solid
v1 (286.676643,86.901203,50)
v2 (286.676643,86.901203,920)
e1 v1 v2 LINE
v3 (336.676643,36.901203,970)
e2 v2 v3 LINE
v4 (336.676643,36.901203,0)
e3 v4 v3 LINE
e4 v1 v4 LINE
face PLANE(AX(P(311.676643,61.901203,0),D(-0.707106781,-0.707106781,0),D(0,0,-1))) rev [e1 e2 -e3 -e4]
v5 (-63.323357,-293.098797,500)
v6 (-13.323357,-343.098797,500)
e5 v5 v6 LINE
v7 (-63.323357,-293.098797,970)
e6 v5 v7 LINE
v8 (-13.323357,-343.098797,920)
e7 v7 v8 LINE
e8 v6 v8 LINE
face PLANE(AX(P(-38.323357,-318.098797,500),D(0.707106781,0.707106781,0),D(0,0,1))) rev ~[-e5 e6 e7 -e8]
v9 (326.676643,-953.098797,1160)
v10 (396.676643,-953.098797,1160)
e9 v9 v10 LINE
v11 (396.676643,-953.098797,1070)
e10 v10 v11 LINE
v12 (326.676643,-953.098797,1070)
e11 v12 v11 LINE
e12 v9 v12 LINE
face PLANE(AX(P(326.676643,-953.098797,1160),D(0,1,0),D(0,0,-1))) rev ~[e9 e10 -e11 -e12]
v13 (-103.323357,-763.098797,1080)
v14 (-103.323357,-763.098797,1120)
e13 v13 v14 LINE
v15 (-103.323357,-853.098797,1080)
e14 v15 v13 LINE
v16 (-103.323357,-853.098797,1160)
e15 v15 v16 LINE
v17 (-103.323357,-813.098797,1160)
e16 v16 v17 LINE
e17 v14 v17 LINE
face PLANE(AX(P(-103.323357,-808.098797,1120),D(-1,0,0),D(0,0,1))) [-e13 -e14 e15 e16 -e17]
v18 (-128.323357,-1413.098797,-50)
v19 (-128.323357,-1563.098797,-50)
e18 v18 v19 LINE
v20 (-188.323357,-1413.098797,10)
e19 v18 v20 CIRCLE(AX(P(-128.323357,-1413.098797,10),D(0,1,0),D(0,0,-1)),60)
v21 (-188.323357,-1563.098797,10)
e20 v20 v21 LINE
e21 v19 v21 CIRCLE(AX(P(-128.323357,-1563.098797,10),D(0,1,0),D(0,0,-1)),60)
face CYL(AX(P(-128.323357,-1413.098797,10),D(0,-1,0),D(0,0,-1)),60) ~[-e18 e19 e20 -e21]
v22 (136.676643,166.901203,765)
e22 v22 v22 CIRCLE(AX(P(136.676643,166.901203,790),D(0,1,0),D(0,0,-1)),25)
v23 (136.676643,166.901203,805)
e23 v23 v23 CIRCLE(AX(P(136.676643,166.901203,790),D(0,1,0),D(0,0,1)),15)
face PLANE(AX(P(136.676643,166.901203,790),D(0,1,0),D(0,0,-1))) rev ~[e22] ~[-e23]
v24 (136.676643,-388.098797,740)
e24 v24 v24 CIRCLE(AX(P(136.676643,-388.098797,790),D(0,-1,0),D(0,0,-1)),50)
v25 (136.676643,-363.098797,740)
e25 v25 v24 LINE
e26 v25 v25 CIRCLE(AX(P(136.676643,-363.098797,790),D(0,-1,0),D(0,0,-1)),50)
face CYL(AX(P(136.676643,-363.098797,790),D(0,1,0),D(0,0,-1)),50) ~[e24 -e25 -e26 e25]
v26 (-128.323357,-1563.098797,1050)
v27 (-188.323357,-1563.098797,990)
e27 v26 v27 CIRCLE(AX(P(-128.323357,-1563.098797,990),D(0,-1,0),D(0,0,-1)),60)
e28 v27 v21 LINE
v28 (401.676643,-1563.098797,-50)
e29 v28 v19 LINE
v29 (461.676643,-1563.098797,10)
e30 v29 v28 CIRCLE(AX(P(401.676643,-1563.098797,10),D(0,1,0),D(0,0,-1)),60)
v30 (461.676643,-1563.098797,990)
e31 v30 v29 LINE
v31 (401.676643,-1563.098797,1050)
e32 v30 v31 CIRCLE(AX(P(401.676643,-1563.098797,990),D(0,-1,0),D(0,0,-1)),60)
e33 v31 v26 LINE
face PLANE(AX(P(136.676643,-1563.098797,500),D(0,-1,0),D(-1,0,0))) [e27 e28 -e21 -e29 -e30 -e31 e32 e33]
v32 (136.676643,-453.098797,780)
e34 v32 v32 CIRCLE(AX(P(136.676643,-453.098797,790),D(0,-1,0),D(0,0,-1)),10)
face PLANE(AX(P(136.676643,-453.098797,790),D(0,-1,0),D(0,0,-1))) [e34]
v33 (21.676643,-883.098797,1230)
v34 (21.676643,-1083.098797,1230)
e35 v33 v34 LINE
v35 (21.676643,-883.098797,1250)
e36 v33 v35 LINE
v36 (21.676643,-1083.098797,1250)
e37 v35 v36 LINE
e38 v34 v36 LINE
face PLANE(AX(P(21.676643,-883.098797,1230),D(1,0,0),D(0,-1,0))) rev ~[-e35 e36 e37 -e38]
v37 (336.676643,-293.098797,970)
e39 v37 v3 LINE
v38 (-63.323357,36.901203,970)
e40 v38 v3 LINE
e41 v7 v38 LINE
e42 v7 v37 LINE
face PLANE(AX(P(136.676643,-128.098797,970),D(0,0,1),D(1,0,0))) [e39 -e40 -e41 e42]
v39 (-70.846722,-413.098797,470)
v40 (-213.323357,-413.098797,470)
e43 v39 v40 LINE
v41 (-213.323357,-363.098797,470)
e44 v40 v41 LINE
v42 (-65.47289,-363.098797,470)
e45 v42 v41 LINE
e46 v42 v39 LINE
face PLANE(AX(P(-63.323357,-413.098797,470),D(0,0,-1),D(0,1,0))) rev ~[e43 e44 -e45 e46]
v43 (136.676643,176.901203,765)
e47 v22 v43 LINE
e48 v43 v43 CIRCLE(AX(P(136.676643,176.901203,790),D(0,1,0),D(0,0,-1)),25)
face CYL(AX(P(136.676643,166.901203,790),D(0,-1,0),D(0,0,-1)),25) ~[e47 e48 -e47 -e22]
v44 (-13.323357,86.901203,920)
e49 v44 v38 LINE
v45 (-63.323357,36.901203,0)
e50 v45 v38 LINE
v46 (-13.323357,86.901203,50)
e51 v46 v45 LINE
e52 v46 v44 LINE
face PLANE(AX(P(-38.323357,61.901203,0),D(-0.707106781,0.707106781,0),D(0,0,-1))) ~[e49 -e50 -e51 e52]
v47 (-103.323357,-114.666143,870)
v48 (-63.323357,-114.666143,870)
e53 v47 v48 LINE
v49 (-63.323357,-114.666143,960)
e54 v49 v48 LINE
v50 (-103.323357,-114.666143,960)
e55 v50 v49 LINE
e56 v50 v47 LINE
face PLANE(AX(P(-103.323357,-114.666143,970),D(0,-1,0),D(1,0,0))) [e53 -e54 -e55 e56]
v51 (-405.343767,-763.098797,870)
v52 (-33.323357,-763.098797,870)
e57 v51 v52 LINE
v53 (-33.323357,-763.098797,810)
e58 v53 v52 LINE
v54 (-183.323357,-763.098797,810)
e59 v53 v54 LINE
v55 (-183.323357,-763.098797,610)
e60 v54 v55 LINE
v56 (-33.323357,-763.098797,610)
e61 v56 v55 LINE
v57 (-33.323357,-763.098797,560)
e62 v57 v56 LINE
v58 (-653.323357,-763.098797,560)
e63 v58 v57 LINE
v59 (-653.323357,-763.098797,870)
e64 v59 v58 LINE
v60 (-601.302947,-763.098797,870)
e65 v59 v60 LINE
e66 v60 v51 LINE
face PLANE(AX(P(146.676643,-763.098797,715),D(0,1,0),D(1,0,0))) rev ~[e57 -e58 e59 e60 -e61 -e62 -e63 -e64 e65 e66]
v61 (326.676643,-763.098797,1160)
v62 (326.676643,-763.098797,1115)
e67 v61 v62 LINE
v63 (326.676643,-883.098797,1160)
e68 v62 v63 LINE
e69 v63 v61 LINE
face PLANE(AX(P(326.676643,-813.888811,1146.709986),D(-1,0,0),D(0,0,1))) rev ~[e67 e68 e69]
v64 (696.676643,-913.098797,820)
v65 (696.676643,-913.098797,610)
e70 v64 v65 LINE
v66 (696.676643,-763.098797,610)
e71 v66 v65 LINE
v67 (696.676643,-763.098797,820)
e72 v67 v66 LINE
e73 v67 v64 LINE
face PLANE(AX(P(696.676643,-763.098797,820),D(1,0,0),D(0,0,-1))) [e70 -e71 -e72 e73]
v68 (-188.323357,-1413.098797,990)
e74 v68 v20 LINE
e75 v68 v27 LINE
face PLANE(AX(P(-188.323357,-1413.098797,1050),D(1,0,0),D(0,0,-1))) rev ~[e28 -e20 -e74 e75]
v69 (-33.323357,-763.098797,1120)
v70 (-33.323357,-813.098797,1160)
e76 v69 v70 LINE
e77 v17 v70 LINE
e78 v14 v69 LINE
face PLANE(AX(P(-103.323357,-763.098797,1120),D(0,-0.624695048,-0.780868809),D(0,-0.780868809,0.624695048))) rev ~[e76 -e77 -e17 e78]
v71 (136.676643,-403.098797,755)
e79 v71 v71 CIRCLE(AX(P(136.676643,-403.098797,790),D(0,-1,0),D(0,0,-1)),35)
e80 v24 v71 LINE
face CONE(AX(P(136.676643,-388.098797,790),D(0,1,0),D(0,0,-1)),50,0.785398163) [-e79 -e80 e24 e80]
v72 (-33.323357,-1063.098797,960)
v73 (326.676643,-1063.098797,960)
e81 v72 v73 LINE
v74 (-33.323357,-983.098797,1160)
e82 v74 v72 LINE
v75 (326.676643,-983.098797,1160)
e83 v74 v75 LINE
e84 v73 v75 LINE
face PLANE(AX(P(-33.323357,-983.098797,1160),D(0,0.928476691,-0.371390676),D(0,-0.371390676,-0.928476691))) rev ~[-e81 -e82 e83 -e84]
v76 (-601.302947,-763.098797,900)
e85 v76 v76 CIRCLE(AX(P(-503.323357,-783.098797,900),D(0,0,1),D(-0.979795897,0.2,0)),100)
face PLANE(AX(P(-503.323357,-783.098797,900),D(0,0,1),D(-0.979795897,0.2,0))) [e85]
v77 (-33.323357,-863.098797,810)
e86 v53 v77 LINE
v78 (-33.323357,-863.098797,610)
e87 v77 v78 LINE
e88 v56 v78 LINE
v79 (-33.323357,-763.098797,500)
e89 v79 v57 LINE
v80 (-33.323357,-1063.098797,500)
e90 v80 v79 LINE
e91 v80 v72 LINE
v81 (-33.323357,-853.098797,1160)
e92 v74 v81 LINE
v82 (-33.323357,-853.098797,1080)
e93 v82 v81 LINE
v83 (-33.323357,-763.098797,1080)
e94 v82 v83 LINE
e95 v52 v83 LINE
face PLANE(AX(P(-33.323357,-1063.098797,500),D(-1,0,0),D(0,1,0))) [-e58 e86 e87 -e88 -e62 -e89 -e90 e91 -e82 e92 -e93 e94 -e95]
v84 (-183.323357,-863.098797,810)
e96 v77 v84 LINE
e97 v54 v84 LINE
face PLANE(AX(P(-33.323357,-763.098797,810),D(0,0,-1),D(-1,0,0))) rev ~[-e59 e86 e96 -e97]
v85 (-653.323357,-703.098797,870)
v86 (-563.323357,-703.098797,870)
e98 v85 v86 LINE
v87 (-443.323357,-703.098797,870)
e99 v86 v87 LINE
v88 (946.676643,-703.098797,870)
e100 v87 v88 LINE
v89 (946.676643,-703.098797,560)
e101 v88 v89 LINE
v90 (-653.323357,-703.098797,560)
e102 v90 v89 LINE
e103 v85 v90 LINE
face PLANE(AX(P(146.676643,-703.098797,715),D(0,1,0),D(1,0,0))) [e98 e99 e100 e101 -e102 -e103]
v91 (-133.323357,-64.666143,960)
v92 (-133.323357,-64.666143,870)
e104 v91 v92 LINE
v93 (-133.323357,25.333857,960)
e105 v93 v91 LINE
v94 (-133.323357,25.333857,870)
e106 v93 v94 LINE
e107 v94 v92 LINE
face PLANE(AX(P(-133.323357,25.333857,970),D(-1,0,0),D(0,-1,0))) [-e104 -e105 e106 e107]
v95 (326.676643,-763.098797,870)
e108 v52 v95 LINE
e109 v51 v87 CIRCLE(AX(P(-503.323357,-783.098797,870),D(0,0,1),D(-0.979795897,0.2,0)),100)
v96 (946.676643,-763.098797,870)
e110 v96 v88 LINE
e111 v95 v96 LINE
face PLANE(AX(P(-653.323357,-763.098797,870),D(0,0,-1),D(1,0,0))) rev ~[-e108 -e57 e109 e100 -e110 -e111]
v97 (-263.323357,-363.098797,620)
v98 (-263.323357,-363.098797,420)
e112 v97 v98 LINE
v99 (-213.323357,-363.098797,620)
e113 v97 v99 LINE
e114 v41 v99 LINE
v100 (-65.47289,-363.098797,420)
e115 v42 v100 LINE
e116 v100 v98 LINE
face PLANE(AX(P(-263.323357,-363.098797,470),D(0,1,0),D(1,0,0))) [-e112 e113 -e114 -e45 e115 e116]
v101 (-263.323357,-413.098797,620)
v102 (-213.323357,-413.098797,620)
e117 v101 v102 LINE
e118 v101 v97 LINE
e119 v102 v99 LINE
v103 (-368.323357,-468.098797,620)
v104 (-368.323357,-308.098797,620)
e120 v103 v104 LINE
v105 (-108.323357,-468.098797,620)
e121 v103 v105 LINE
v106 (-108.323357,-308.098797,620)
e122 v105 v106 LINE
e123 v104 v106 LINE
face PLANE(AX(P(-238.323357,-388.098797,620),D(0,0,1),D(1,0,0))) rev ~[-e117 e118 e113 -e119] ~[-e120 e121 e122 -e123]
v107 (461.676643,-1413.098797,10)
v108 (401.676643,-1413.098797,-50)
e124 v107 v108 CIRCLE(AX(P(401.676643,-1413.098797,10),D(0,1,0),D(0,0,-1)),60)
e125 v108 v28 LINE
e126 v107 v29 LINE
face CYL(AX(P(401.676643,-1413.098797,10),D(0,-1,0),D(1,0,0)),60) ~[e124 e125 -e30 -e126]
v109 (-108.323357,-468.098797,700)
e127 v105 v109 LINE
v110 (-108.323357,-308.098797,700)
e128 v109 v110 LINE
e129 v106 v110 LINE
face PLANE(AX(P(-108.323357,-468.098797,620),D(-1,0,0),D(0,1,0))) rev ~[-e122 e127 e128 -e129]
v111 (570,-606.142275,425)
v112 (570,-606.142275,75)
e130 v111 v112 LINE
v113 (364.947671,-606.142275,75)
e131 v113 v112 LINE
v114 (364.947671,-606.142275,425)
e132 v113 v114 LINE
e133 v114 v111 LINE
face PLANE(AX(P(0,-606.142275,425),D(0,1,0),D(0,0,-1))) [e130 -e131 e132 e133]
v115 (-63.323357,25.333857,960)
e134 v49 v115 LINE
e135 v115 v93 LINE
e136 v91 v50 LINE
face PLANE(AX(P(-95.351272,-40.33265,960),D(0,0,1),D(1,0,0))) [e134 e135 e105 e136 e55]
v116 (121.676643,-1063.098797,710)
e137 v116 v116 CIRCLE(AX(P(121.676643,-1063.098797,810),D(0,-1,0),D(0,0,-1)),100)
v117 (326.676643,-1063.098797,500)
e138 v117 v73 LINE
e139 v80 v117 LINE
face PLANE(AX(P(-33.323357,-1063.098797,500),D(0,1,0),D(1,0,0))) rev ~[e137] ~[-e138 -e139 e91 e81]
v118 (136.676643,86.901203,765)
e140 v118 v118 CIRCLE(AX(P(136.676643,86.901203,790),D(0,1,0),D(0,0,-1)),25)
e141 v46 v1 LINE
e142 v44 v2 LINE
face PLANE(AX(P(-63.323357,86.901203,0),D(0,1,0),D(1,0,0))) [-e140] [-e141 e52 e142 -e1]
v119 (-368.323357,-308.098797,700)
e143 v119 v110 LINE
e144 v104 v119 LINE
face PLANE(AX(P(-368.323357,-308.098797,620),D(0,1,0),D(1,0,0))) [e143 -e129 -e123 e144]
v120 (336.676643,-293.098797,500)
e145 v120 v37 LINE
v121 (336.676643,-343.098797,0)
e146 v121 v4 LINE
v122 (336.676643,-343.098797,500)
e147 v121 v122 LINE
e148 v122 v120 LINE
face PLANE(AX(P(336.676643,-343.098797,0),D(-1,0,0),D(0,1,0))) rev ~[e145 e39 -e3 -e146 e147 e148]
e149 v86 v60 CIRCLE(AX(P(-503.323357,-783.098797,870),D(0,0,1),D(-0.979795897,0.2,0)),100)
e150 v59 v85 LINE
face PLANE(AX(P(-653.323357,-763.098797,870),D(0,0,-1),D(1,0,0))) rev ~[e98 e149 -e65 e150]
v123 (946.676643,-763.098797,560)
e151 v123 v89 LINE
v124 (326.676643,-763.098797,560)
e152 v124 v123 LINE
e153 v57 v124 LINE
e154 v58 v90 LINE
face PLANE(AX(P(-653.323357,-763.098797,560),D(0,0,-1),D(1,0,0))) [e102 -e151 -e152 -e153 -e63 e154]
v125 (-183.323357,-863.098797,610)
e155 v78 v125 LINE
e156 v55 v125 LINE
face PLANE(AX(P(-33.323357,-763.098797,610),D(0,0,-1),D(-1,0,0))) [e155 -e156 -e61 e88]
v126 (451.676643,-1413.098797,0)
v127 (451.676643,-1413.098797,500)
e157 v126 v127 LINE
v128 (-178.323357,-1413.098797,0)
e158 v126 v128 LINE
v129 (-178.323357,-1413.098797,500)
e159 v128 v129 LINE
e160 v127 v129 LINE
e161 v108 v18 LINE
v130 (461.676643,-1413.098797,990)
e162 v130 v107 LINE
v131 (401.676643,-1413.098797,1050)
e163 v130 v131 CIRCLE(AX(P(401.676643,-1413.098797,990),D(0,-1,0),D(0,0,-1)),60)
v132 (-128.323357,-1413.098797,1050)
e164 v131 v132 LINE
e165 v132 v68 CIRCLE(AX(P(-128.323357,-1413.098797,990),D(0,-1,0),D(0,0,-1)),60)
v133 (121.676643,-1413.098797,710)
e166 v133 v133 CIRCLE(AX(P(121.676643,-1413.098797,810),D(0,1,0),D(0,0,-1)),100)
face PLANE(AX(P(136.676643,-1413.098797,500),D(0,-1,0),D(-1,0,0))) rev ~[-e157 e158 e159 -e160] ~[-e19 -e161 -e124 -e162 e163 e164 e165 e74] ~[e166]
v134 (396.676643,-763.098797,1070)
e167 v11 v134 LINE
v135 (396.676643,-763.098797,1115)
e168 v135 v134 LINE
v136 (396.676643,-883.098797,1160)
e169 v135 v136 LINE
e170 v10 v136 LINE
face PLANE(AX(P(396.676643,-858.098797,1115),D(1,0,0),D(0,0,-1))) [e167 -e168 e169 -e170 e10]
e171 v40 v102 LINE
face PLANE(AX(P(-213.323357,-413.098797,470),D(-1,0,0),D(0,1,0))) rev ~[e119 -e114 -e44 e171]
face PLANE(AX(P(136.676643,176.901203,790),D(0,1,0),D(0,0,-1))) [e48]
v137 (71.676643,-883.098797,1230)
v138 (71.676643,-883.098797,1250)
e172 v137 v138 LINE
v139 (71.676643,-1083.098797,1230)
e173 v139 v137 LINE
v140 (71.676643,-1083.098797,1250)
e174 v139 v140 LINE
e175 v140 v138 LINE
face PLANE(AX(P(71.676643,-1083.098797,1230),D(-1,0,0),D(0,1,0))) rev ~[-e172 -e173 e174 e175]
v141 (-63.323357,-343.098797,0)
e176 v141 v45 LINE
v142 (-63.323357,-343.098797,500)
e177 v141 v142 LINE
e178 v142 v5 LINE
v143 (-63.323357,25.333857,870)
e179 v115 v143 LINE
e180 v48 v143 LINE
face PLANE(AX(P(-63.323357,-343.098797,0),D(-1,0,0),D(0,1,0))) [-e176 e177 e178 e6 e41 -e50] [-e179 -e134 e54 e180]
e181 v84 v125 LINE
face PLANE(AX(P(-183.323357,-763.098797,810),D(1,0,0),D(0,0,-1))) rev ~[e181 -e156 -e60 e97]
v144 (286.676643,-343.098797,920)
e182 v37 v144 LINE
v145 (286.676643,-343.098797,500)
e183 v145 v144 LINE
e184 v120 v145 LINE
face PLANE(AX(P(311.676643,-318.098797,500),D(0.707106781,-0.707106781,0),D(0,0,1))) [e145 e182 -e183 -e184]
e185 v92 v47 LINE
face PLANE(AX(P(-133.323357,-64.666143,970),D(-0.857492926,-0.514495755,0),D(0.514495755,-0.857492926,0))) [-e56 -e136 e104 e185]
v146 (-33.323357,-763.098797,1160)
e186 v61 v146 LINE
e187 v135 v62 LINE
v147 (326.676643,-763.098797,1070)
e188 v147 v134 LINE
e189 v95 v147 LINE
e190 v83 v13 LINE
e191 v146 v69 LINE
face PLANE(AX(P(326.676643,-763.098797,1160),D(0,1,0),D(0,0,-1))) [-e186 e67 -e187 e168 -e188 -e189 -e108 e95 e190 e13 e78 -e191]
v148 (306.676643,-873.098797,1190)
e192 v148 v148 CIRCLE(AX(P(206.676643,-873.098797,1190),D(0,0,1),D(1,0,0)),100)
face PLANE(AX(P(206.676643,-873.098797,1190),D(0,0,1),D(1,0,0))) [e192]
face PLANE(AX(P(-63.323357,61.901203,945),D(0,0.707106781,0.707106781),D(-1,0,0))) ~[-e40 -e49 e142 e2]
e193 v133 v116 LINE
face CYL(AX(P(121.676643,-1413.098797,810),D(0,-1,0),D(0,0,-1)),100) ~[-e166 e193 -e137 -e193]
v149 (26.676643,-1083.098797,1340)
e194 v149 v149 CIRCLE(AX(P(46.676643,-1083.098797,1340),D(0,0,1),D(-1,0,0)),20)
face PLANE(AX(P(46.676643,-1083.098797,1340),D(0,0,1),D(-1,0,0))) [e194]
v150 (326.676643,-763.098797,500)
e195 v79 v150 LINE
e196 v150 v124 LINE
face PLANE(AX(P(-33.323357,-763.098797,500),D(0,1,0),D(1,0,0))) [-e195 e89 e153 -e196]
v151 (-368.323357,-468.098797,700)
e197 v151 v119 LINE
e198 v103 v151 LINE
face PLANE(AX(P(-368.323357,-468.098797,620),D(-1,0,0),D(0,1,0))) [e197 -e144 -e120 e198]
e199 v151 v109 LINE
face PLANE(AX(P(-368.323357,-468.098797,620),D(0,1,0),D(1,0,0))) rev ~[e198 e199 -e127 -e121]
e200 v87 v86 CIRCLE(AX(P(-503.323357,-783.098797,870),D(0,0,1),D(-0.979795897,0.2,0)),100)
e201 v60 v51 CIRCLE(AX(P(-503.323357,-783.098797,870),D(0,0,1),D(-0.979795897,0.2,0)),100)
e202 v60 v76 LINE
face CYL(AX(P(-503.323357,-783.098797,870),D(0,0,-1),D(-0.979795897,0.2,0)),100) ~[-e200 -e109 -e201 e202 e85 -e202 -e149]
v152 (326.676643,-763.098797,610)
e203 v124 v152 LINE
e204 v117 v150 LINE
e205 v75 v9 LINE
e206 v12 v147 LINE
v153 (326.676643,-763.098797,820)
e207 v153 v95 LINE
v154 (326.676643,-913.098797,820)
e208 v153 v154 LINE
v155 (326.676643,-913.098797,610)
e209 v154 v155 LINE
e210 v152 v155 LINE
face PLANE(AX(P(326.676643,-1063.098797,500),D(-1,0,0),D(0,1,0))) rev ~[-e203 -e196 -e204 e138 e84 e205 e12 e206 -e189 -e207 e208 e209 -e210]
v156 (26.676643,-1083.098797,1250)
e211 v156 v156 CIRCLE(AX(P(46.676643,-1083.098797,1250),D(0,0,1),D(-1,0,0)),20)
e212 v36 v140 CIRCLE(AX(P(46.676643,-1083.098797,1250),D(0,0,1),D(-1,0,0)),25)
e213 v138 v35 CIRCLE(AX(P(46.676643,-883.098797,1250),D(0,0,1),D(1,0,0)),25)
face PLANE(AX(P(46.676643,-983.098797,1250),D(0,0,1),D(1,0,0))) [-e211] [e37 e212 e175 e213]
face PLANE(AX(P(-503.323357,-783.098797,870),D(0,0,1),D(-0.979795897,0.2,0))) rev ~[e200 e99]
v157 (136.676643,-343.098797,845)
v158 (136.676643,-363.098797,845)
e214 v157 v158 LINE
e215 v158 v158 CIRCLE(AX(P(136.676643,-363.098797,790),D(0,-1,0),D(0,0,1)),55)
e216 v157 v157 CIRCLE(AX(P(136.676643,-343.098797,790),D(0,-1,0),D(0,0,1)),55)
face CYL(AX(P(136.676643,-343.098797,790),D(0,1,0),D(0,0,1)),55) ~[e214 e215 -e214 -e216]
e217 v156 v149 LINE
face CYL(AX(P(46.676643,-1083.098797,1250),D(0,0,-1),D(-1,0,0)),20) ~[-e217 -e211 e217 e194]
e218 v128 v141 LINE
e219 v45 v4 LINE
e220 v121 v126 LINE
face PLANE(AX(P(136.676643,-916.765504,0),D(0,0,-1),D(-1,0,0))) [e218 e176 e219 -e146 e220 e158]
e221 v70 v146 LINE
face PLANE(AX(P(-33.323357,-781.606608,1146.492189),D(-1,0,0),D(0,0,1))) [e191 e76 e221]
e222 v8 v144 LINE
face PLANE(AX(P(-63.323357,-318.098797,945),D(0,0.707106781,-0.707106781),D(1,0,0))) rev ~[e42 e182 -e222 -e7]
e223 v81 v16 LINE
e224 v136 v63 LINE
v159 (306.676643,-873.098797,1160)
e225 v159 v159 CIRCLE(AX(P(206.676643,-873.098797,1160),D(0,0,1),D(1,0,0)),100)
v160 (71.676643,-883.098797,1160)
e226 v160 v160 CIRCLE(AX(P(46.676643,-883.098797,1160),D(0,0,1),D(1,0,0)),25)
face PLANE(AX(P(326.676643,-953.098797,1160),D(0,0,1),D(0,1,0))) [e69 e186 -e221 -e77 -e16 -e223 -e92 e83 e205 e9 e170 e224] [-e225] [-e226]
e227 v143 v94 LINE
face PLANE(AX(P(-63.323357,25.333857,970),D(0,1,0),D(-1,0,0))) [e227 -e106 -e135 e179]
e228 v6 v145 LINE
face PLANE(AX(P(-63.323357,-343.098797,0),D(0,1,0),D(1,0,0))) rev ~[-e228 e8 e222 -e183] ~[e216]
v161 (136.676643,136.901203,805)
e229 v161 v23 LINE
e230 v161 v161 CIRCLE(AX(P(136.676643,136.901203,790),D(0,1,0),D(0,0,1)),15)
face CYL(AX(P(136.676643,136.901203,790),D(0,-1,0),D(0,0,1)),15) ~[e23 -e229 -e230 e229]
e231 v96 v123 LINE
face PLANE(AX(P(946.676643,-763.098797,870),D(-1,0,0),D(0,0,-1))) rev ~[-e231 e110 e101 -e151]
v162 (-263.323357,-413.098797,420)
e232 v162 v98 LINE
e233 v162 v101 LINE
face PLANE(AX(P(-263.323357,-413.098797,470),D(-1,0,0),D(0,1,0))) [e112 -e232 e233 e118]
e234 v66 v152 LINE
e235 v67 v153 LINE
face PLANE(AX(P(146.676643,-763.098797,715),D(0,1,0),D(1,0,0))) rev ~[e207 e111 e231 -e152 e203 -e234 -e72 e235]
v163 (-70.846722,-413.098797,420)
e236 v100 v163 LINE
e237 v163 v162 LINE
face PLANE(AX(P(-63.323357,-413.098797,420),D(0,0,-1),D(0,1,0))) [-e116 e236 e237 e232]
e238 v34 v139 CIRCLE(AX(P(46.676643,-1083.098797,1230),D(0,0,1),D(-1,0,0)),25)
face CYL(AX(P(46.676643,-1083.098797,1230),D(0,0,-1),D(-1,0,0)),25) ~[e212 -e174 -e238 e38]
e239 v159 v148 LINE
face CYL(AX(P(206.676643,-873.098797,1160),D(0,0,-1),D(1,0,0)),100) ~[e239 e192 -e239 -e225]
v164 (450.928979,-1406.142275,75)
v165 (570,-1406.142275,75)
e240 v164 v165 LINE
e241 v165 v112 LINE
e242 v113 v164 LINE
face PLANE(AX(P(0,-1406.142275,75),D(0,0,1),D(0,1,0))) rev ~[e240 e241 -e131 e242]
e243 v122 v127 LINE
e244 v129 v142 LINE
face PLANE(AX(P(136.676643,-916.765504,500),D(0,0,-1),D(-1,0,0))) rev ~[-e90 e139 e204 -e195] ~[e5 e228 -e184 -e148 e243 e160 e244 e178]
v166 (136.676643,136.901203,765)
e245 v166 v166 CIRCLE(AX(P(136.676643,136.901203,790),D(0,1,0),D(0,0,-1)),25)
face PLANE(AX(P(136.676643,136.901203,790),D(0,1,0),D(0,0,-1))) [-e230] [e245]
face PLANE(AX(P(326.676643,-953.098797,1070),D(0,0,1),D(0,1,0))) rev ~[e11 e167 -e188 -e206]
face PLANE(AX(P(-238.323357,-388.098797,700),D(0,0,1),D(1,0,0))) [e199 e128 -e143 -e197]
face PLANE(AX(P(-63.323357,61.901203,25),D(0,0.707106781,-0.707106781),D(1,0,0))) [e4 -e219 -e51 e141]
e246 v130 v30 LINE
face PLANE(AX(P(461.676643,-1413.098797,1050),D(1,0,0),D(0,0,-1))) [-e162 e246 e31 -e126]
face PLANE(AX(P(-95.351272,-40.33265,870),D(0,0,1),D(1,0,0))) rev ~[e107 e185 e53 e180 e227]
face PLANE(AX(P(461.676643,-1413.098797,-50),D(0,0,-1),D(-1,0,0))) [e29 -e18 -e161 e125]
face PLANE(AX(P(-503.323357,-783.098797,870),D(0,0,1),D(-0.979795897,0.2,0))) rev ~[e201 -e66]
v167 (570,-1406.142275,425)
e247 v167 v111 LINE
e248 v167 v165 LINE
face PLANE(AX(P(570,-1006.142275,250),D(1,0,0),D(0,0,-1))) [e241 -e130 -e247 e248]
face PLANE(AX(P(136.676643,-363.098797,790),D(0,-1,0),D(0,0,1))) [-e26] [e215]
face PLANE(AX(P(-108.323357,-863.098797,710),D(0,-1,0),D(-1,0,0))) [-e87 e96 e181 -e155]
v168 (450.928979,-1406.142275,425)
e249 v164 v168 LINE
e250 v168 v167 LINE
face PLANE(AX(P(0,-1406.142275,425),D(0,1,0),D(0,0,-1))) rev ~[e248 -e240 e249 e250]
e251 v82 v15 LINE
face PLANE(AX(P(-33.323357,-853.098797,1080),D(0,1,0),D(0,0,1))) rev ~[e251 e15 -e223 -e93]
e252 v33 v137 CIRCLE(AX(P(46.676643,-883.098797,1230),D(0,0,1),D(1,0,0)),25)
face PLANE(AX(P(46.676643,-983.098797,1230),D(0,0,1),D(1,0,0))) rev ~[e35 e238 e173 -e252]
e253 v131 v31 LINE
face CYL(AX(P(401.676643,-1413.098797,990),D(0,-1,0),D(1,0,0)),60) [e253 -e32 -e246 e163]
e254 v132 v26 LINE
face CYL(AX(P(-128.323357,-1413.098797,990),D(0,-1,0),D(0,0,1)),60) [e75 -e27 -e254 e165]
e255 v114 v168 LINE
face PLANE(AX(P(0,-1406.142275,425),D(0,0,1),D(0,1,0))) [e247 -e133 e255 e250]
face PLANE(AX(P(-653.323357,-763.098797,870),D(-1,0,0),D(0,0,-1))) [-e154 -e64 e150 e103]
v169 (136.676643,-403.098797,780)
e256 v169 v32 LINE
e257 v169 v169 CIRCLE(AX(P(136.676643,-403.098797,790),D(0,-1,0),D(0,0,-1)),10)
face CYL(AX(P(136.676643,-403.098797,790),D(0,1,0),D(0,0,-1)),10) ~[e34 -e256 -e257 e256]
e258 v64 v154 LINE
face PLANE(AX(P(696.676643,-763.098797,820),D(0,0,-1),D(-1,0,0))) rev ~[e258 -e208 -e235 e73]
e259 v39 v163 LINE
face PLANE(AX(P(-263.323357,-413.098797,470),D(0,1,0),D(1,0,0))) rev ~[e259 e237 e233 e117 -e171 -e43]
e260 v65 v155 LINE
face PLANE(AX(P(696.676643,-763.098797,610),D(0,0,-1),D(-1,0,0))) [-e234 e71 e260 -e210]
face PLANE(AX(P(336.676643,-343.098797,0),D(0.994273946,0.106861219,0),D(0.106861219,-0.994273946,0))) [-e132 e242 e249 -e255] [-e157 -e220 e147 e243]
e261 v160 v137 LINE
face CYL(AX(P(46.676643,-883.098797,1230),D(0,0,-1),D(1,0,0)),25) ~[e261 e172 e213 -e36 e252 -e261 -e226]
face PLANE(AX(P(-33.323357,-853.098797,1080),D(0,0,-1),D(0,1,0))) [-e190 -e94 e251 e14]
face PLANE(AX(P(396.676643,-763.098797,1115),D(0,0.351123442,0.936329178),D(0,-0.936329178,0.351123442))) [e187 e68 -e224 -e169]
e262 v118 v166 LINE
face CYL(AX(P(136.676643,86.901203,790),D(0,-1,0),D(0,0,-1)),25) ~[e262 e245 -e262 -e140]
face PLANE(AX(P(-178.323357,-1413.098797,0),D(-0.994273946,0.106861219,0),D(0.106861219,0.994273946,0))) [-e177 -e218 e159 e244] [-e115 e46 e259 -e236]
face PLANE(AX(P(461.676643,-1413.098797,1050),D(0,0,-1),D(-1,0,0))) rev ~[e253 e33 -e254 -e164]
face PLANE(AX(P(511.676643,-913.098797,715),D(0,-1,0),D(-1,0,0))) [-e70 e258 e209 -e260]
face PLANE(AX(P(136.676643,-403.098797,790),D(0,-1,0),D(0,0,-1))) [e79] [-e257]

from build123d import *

# Parameters (mm, degrees)
SKETCH_2_W          = 400
SKETCH_2_H          = 430
EXTRUDE_2_DEPTH     = 970
EXTRUDE_3_DEPTH     = 500
SKETCH_4_W          = 650
SKETCH_4_H          = 1100
EXTRUDE_4_DEPTH     = 150
SKETCH_5_R          = 25
EXTRUDE_5_DEPTH     = 50
SKETCH_6_R          = 15
EXTRUDE_6_DEPTH     = 30
SKETCH_7_R          = 25
EXTRUDE_7_DEPTH     = 10
CHAMFER_1_SIZE      = 50
SKETCH_8_R          = 55
EXTRUDE_8_DEPTH     = 20
SKETCH_9_R          = 50
EXTRUDE_9_DEPTH     = 40
CHAMFER_2_SIZE      = 15
SKETCH_10_R         = 10
EXTRUDE_10_DEPTH    = 50
SKETCH_11_W         = 360
SKETCH_11_H         = 300
EXTRUDE_11_DEPTH    = 660
SKETCH_12_W         = 1600
SKETCH_12_H         = 310
EXTRUDE_12_DEPTH    = 60
SKETCH_13_W         = 350
SKETCH_13_H         = 800
EXTRUDE_13_DEPTH    = 570
SKETCH_14_R         = 100
EXTRUDE_14_DEPTH    = 400
EXTRUDE_15_DEPTH    = 100
CUT_EXTRUDE_1_DEPTH = 10
SKETCH_17_R         = 100
EXTRUDE_16_DEPTH    = 30
CUT_EXTRUDE_2_REACH = 2181.284
SKETCH_19_W         = 370
SKETCH_19_H         = 210
EXTRUDE_17_DEPTH    = 150
SKETCH_20_W         = 150
SKETCH_20_H         = 200
EXTRUDE_18_DEPTH    = 100
SKETCH_21_R         = 25
EXTRUDE_19_DEPTH    = 70
SKETCH_22_R         = 100
EXTRUDE_20_DEPTH    = 30
EXTRUDE_21_DEPTH    = 20
SKETCH_24_R         = 20
EXTRUDE_22_DEPTH    = 90
SKETCH_25_W         = 80
SKETCH_25_H         = 90
EXTRUDE_23_DEPTH    = 70
CUT_EXTRUDE_3_DEPTH = 70
SKETCH_27_W         = 90
SKETCH_27_H         = 190
EXTRUDE_24_DEPTH    = 70
CUT_EXTRUDE_4_DEPTH = 70
FILLET_1_R          = 60
SKETCH_29_W         = 50
SKETCH_29_H         = 50
EXTRUDE_25_DEPTH    = 200
SKETCH_30_W         = 50
SKETCH_30_H         = 50
EXTRUDE_26_DEPTH    = 150
SKETCH_31_W         = 260
SKETCH_31_H         = 160
EXTRUDE_27_DEPTH    = 80


with BuildPart() as part:
    # ｽｹｯﾁ2 → ﾎﾞｽ - 押し出し2 (new body)
    with BuildSketch(Plane.XY):
        with Locations((136.676642933, -128.098797217)):
            Rectangle(SKETCH_2_W, SKETCH_2_H)
    extrude(amount=EXTRUDE_2_DEPTH)

    # ｽｹｯﾁ3 → ﾎﾞｽ - 押し出し3 (add)
    with BuildSketch(Plane(origin=(0, 0, 0), x_dir=(-1, 0, 0), z_dir=(0, 0, -1))):
        Polygon((-451.676642933, -1413.098797217), (178.323357067, -1413.098797217), (63.323357067, -343.098797217), (-336.676642933, -343.098797217), align=None)
    extrude(amount=-EXTRUDE_3_DEPTH)

    # ｽｹｯﾁ4 → ﾎﾞｽ - 押し出し4 (add)
    with BuildSketch(Plane(origin=(0, -1413.098797217, 0), x_dir=(-1, 0, 0), z_dir=(0, -1, 0))):
        with Locations((-136.676642933, -500)):
            Rectangle(SKETCH_4_W, SKETCH_4_H)
    extrude(amount=EXTRUDE_4_DEPTH)

    # ｽｹｯﾁ5 → ﾎﾞｽ - 押し出し5 (add)
    with BuildSketch(Plane(origin=(0, 86.901202783, 0), x_dir=(1, 0, 0), z_dir=(0, 1, 0))):
        with Locations(Location((136.676642933, -790, 0), (0, 0, 90))):
            Circle(SKETCH_5_R)
    extrude(amount=EXTRUDE_5_DEPTH)

    # ｽｹｯﾁ6 → ﾎﾞｽ - 押し出し6 (add)
    with BuildSketch(Plane(origin=(0, 136.901202783, 0), x_dir=(1, 0, 0), z_dir=(0, 1, 0))):
        with Locations(Location((136.676642933, -790, 0), (0, 0, 270))):
            Circle(SKETCH_6_R)
    extrude(amount=EXTRUDE_6_DEPTH)

    # ｽｹｯﾁ7 → ﾎﾞｽ - 押し出し7 (add)
    with BuildSketch(Plane(origin=(0, 166.901202783, 0), x_dir=(1, 0, 0), z_dir=(0, 1, 0))):
        with Locations(Location((136.676642933, -790, 0), (0, 0, 90))):
            Circle(SKETCH_7_R)
    extrude(amount=EXTRUDE_7_DEPTH)

    # 面取り1
    chamfer_1_edges = [part.edges().sort_by_distance(p)[0] for p in [
        (-63.323357067, 86.901202783, 485),
        (136.676642933, 86.901202783, 0),
        (136.676642933, 86.901202783, 970),
        (336.676642933, 86.901202783, 485),
        (-63.323357067, -343.098797217, 735),
        (336.676642933, -343.098797217, 735),
        (136.676642933, -343.098797217, 970),
    ]]
    chamfer(chamfer_1_edges, length=CHAMFER_1_SIZE)

    # ｽｹｯﾁ8 → ﾎﾞｽ - 押し出し8 (add)
    with BuildSketch(Plane(origin=(0, -343.098797217, 0), x_dir=(-1, 0, 0), z_dir=(0, -1, 0))):
        with Locations(Location((-136.676642933, -790, 0), (0, 0, 270))):
            Circle(SKETCH_8_R)
    extrude(amount=EXTRUDE_8_DEPTH)

    # ｽｹｯﾁ9 → ﾎﾞｽ - 押し出し9 (add)
    with BuildSketch(Plane(origin=(0, -363.098797217, 0), x_dir=(-1, 0, 0), z_dir=(0, -1, 0))):
        with Locations(Location((-136.676642933, -790, 0), (0, 0, 90))):
            Circle(SKETCH_9_R)
    extrude(amount=EXTRUDE_9_DEPTH)

    # 面取り2
    chamfer_2_edges = [part.edges().sort_by_distance(p)[0] for p in [
        (136.676642933, -403.098797217, 840),
    ]]
    chamfer(chamfer_2_edges, length=CHAMFER_2_SIZE)

    # ｽｹｯﾁ10 → ﾎﾞｽ - 押し出し10 (add)
    with BuildSketch(Plane(origin=(0, -403.098797217, 0), x_dir=(-1, 0, 0), z_dir=(0, -1, 0))):
        with Locations(Location((-136.676642933, -790, 0), (0, 0, 90))):
            Circle(SKETCH_10_R)
    extrude(amount=EXTRUDE_10_DEPTH)

    # ｽｹｯﾁ11 → ﾎﾞｽ - 押し出し11 (add)
    with BuildSketch(Plane.XY.offset(500)):
        with Locations((146.676642933, -913.098797217)):
            Rectangle(SKETCH_11_W, SKETCH_11_H)
    extrude(amount=EXTRUDE_11_DEPTH)

    # ｽｹｯﾁ12 → ﾎﾞｽ - 押し出し12 (add)
    with BuildSketch(Plane(origin=(0, -763.098797217, 0), x_dir=(1, 0, 0), z_dir=(0, 1, 0))):
        with Locations((146.676642933, -715)):
            Rectangle(SKETCH_12_W, SKETCH_12_H)
    extrude(amount=EXTRUDE_12_DEPTH)

    # ｽｹｯﾁ13 → ﾎﾞｽ - 押し出し13 (add)
    with BuildSketch(Plane(origin=(0, 0, 0), x_dir=(0, 0, -1), z_dir=(1, 0, 0))):
        with Locations((-250, -1006.142275478)):
            Rectangle(SKETCH_13_W, SKETCH_13_H)
    extrude(amount=EXTRUDE_13_DEPTH)

    # ｽｹｯﾁ14 → ﾎﾞｽ - 押し出し14 (add)
    with BuildSketch(Plane(origin=(0, -1413.098797217, 0), x_dir=(1, 0, 0), z_dir=(0, 1, 0))):
        with Locations(Location((121.676642933, -810, 0), (0, 0, 90))):
            Circle(SKETCH_14_R)
    extrude(amount=EXTRUDE_14_DEPTH)

    # ｽｹｯﾁ15 → ﾎﾞｽ - 押し出し15 (add)
    with BuildSketch(Plane.XY.offset(970)):
        Polygon((-63.323357067, 25.333856753), (-133.323357067, 25.333856753), (-133.323357067, -64.666143247), (-103.323357067, -114.666143247), (-63.323357067, -114.666143247), align=None)
    extrude(amount=-EXTRUDE_15_DEPTH)

    # ｽｹｯﾁ16 → ｶｯﾄ - 押し出し1 (cut)
    with BuildSketch(Plane.XY.offset(970)):
        Polygon((-63.323357067, 25.333856753), (-133.323357067, 25.333856753), (-133.323357067, -64.666143247), (-103.323357067, -114.666143247), (-63.323357067, -114.666143247), align=None)
    extrude(amount=-CUT_EXTRUDE_1_DEPTH, mode=Mode.SUBTRACT)

    # ｽｹｯﾁ17 → ﾎﾞｽ - 押し出し16 (add)
    with BuildSketch(Plane.XY.offset(870)):
        with Locations(Location((-503.323357067, -783.098797217, 0), (0, 0, 168.463040967))):
            Circle(SKETCH_17_R)
    extrude(amount=EXTRUDE_16_DEPTH)

    # ｽｹｯﾁ18 → ｶｯﾄ - 押し出し2 (cut, up to next)
    with BuildSketch(Plane.ZY.offset(33.323357067), mode=Mode.PRIVATE) as cut_extrude_2_sk1:
        Polygon((1160, -1063.098797217), (1160, -983.098797217), (960, -1063.098797217), align=None)
    cut_extrude_2_tool1 = extrude(cut_extrude_2_sk1.sketch, amount=-CUT_EXTRUDE_2_REACH, mode=Mode.PRIVATE) & part.part
    add(cut_extrude_2_tool1.solids().sort_by_distance((-33.323357, -1036.432131, 1093.333333))[0], mode=Mode.SUBTRACT)

    # ｽｹｯﾁ19 → ﾎﾞｽ - 押し出し17 (add)
    with BuildSketch(Plane(origin=(0, -763.098797217, 0), x_dir=(-1, 0, 0), z_dir=(0, -1, 0))):
        with Locations((-511.676642933, -715)):
            Rectangle(SKETCH_19_W, SKETCH_19_H)
    extrude(amount=EXTRUDE_17_DEPTH)

    # ｽｹｯﾁ20 → ﾎﾞｽ - 押し出し18 (add)
    with BuildSketch(Plane(origin=(0, -763.098797217, 0), x_dir=(-1, 0, 0), z_dir=(0, -1, 0))):
        with Locations((108.323357067, -710)):
            Rectangle(SKETCH_20_W, SKETCH_20_H)
    extrude(amount=EXTRUDE_18_DEPTH)

    # ｽｹｯﾁ21 → ﾎﾞｽ - 押し出し19 (add)
    with BuildSketch(Plane.XY.offset(1160)):
        with Locations((46.676642933, -883.098797217)):
            Circle(SKETCH_21_R)
    extrude(amount=EXTRUDE_19_DEPTH)

    # ｽｹｯﾁ22 → ﾎﾞｽ - 押し出し20 (add)
    with BuildSketch(Plane.XY.offset(1160)):
        with Locations((206.676642933, -873.098797217)):
            Circle(SKETCH_22_R)
    extrude(amount=EXTRUDE_20_DEPTH)

    # ｽｹｯﾁ23 → ﾎﾞｽ - 押し出し21 (add)
    with BuildSketch(Plane.XY.offset(1230)):
        with BuildLine():
            Line((21.676642933, -883.098797217), (21.676642933, -1083.098797217))
            ThreePointArc((21.676642933, -1083.098797217), (46.676642933, -1108.098797217), (71.676642933, -1083.098797217))
            Line((71.676642933, -1083.098797217), (71.676642933, -883.098797217))
            ThreePointArc((71.676642933, -883.098797217), (46.676642933, -858.098797217), (21.676642933, -883.098797217))
        make_face()
    extrude(amount=EXTRUDE_21_DEPTH)

    # ｽｹｯﾁ24 → ﾎﾞｽ - 押し出し22 (add)
    with BuildSketch(Plane.XY.offset(1250)):
        with Locations(Location((46.676642933, -1083.098797217, 0), (0, 0, 180))):
            Circle(SKETCH_24_R)
    extrude(amount=EXTRUDE_22_DEPTH)

    # ｽｹｯﾁ25 → ﾎﾞｽ - 押し出し23 (add)
    with BuildSketch(Plane.ZY.offset(33.323357067)):
        with Locations((1120, -808.098797217)):
            Rectangle(SKETCH_25_W, SKETCH_25_H)
    extrude(amount=EXTRUDE_23_DEPTH)

    # ｽｹｯﾁ26 → ｶｯﾄ - 押し出し3 (cut)
    with BuildSketch(Plane.ZY.offset(103.323357067)):
        Polygon((1160, -763.098797217), (1120, -763.098797217), (1160, -813.098797217), align=None)
    extrude(amount=-CUT_EXTRUDE_3_DEPTH, mode=Mode.SUBTRACT)

    # ｽｹｯﾁ27 → ﾎﾞｽ - 押し出し24 (add)
    with BuildSketch(Plane(origin=(326.676642933, 0, 0), x_dir=(0, 0, -1), z_dir=(1, 0, 0))):
        with Locations((-1115, -858.098797217)):
            Rectangle(SKETCH_27_W, SKETCH_27_H)
    extrude(amount=EXTRUDE_24_DEPTH)

    # ｽｹｯﾁ28 → ｶｯﾄ - 押し出し4 (cut)
    with BuildSketch(Plane(origin=(396.676642933, 0, 0), x_dir=(0, 0, -1), z_dir=(1, 0, 0))):
        Polygon((-1115, -763.098797217), (-1160, -883.098797217), (-1160, -763.098797217), align=None)
    extrude(amount=-CUT_EXTRUDE_4_DEPTH, mode=Mode.SUBTRACT)

    # ﾌｨﾚｯﾄ1
    fillet_1_edges = [part.edges().sort_by_distance(p)[0] for p in [
        (461.676642933, -1488.098797217, -50),
        (461.676642933, -1488.098797217, 1050),
        (-188.323357067, -1488.098797217, 1050),
        (-188.323357067, -1488.098797217, -50),
    ]]
    fillet(fillet_1_edges, radius=FILLET_1_R)

    # ｽｹｯﾁ29 → ﾎﾞｽ - 押し出し25 (add)
    with BuildSketch(Plane.ZY.offset(63.323357067)):
        with Locations((445, -388.098797217)):
            Rectangle(SKETCH_29_W, SKETCH_29_H)
    extrude(amount=EXTRUDE_25_DEPTH)

    # ｽｹｯﾁ30 → ﾎﾞｽ - 押し出し26 (add)
    with BuildSketch(Plane.XY.offset(470)):
        with Locations((-238.323357067, -388.098797217)):
            Rectangle(SKETCH_30_W, SKETCH_30_H)
    extrude(amount=EXTRUDE_26_DEPTH)

    # ｽｹｯﾁ31 → ﾎﾞｽ - 押し出し27 (add)
    with BuildSketch(Plane.XY.offset(620)):
        with Locations((-238.323357067, -388.098797217)):
            Rectangle(SKETCH_31_W, SKETCH_31_H)
    extrude(amount=EXTRUDE_27_DEPTH)


solid = part.part
